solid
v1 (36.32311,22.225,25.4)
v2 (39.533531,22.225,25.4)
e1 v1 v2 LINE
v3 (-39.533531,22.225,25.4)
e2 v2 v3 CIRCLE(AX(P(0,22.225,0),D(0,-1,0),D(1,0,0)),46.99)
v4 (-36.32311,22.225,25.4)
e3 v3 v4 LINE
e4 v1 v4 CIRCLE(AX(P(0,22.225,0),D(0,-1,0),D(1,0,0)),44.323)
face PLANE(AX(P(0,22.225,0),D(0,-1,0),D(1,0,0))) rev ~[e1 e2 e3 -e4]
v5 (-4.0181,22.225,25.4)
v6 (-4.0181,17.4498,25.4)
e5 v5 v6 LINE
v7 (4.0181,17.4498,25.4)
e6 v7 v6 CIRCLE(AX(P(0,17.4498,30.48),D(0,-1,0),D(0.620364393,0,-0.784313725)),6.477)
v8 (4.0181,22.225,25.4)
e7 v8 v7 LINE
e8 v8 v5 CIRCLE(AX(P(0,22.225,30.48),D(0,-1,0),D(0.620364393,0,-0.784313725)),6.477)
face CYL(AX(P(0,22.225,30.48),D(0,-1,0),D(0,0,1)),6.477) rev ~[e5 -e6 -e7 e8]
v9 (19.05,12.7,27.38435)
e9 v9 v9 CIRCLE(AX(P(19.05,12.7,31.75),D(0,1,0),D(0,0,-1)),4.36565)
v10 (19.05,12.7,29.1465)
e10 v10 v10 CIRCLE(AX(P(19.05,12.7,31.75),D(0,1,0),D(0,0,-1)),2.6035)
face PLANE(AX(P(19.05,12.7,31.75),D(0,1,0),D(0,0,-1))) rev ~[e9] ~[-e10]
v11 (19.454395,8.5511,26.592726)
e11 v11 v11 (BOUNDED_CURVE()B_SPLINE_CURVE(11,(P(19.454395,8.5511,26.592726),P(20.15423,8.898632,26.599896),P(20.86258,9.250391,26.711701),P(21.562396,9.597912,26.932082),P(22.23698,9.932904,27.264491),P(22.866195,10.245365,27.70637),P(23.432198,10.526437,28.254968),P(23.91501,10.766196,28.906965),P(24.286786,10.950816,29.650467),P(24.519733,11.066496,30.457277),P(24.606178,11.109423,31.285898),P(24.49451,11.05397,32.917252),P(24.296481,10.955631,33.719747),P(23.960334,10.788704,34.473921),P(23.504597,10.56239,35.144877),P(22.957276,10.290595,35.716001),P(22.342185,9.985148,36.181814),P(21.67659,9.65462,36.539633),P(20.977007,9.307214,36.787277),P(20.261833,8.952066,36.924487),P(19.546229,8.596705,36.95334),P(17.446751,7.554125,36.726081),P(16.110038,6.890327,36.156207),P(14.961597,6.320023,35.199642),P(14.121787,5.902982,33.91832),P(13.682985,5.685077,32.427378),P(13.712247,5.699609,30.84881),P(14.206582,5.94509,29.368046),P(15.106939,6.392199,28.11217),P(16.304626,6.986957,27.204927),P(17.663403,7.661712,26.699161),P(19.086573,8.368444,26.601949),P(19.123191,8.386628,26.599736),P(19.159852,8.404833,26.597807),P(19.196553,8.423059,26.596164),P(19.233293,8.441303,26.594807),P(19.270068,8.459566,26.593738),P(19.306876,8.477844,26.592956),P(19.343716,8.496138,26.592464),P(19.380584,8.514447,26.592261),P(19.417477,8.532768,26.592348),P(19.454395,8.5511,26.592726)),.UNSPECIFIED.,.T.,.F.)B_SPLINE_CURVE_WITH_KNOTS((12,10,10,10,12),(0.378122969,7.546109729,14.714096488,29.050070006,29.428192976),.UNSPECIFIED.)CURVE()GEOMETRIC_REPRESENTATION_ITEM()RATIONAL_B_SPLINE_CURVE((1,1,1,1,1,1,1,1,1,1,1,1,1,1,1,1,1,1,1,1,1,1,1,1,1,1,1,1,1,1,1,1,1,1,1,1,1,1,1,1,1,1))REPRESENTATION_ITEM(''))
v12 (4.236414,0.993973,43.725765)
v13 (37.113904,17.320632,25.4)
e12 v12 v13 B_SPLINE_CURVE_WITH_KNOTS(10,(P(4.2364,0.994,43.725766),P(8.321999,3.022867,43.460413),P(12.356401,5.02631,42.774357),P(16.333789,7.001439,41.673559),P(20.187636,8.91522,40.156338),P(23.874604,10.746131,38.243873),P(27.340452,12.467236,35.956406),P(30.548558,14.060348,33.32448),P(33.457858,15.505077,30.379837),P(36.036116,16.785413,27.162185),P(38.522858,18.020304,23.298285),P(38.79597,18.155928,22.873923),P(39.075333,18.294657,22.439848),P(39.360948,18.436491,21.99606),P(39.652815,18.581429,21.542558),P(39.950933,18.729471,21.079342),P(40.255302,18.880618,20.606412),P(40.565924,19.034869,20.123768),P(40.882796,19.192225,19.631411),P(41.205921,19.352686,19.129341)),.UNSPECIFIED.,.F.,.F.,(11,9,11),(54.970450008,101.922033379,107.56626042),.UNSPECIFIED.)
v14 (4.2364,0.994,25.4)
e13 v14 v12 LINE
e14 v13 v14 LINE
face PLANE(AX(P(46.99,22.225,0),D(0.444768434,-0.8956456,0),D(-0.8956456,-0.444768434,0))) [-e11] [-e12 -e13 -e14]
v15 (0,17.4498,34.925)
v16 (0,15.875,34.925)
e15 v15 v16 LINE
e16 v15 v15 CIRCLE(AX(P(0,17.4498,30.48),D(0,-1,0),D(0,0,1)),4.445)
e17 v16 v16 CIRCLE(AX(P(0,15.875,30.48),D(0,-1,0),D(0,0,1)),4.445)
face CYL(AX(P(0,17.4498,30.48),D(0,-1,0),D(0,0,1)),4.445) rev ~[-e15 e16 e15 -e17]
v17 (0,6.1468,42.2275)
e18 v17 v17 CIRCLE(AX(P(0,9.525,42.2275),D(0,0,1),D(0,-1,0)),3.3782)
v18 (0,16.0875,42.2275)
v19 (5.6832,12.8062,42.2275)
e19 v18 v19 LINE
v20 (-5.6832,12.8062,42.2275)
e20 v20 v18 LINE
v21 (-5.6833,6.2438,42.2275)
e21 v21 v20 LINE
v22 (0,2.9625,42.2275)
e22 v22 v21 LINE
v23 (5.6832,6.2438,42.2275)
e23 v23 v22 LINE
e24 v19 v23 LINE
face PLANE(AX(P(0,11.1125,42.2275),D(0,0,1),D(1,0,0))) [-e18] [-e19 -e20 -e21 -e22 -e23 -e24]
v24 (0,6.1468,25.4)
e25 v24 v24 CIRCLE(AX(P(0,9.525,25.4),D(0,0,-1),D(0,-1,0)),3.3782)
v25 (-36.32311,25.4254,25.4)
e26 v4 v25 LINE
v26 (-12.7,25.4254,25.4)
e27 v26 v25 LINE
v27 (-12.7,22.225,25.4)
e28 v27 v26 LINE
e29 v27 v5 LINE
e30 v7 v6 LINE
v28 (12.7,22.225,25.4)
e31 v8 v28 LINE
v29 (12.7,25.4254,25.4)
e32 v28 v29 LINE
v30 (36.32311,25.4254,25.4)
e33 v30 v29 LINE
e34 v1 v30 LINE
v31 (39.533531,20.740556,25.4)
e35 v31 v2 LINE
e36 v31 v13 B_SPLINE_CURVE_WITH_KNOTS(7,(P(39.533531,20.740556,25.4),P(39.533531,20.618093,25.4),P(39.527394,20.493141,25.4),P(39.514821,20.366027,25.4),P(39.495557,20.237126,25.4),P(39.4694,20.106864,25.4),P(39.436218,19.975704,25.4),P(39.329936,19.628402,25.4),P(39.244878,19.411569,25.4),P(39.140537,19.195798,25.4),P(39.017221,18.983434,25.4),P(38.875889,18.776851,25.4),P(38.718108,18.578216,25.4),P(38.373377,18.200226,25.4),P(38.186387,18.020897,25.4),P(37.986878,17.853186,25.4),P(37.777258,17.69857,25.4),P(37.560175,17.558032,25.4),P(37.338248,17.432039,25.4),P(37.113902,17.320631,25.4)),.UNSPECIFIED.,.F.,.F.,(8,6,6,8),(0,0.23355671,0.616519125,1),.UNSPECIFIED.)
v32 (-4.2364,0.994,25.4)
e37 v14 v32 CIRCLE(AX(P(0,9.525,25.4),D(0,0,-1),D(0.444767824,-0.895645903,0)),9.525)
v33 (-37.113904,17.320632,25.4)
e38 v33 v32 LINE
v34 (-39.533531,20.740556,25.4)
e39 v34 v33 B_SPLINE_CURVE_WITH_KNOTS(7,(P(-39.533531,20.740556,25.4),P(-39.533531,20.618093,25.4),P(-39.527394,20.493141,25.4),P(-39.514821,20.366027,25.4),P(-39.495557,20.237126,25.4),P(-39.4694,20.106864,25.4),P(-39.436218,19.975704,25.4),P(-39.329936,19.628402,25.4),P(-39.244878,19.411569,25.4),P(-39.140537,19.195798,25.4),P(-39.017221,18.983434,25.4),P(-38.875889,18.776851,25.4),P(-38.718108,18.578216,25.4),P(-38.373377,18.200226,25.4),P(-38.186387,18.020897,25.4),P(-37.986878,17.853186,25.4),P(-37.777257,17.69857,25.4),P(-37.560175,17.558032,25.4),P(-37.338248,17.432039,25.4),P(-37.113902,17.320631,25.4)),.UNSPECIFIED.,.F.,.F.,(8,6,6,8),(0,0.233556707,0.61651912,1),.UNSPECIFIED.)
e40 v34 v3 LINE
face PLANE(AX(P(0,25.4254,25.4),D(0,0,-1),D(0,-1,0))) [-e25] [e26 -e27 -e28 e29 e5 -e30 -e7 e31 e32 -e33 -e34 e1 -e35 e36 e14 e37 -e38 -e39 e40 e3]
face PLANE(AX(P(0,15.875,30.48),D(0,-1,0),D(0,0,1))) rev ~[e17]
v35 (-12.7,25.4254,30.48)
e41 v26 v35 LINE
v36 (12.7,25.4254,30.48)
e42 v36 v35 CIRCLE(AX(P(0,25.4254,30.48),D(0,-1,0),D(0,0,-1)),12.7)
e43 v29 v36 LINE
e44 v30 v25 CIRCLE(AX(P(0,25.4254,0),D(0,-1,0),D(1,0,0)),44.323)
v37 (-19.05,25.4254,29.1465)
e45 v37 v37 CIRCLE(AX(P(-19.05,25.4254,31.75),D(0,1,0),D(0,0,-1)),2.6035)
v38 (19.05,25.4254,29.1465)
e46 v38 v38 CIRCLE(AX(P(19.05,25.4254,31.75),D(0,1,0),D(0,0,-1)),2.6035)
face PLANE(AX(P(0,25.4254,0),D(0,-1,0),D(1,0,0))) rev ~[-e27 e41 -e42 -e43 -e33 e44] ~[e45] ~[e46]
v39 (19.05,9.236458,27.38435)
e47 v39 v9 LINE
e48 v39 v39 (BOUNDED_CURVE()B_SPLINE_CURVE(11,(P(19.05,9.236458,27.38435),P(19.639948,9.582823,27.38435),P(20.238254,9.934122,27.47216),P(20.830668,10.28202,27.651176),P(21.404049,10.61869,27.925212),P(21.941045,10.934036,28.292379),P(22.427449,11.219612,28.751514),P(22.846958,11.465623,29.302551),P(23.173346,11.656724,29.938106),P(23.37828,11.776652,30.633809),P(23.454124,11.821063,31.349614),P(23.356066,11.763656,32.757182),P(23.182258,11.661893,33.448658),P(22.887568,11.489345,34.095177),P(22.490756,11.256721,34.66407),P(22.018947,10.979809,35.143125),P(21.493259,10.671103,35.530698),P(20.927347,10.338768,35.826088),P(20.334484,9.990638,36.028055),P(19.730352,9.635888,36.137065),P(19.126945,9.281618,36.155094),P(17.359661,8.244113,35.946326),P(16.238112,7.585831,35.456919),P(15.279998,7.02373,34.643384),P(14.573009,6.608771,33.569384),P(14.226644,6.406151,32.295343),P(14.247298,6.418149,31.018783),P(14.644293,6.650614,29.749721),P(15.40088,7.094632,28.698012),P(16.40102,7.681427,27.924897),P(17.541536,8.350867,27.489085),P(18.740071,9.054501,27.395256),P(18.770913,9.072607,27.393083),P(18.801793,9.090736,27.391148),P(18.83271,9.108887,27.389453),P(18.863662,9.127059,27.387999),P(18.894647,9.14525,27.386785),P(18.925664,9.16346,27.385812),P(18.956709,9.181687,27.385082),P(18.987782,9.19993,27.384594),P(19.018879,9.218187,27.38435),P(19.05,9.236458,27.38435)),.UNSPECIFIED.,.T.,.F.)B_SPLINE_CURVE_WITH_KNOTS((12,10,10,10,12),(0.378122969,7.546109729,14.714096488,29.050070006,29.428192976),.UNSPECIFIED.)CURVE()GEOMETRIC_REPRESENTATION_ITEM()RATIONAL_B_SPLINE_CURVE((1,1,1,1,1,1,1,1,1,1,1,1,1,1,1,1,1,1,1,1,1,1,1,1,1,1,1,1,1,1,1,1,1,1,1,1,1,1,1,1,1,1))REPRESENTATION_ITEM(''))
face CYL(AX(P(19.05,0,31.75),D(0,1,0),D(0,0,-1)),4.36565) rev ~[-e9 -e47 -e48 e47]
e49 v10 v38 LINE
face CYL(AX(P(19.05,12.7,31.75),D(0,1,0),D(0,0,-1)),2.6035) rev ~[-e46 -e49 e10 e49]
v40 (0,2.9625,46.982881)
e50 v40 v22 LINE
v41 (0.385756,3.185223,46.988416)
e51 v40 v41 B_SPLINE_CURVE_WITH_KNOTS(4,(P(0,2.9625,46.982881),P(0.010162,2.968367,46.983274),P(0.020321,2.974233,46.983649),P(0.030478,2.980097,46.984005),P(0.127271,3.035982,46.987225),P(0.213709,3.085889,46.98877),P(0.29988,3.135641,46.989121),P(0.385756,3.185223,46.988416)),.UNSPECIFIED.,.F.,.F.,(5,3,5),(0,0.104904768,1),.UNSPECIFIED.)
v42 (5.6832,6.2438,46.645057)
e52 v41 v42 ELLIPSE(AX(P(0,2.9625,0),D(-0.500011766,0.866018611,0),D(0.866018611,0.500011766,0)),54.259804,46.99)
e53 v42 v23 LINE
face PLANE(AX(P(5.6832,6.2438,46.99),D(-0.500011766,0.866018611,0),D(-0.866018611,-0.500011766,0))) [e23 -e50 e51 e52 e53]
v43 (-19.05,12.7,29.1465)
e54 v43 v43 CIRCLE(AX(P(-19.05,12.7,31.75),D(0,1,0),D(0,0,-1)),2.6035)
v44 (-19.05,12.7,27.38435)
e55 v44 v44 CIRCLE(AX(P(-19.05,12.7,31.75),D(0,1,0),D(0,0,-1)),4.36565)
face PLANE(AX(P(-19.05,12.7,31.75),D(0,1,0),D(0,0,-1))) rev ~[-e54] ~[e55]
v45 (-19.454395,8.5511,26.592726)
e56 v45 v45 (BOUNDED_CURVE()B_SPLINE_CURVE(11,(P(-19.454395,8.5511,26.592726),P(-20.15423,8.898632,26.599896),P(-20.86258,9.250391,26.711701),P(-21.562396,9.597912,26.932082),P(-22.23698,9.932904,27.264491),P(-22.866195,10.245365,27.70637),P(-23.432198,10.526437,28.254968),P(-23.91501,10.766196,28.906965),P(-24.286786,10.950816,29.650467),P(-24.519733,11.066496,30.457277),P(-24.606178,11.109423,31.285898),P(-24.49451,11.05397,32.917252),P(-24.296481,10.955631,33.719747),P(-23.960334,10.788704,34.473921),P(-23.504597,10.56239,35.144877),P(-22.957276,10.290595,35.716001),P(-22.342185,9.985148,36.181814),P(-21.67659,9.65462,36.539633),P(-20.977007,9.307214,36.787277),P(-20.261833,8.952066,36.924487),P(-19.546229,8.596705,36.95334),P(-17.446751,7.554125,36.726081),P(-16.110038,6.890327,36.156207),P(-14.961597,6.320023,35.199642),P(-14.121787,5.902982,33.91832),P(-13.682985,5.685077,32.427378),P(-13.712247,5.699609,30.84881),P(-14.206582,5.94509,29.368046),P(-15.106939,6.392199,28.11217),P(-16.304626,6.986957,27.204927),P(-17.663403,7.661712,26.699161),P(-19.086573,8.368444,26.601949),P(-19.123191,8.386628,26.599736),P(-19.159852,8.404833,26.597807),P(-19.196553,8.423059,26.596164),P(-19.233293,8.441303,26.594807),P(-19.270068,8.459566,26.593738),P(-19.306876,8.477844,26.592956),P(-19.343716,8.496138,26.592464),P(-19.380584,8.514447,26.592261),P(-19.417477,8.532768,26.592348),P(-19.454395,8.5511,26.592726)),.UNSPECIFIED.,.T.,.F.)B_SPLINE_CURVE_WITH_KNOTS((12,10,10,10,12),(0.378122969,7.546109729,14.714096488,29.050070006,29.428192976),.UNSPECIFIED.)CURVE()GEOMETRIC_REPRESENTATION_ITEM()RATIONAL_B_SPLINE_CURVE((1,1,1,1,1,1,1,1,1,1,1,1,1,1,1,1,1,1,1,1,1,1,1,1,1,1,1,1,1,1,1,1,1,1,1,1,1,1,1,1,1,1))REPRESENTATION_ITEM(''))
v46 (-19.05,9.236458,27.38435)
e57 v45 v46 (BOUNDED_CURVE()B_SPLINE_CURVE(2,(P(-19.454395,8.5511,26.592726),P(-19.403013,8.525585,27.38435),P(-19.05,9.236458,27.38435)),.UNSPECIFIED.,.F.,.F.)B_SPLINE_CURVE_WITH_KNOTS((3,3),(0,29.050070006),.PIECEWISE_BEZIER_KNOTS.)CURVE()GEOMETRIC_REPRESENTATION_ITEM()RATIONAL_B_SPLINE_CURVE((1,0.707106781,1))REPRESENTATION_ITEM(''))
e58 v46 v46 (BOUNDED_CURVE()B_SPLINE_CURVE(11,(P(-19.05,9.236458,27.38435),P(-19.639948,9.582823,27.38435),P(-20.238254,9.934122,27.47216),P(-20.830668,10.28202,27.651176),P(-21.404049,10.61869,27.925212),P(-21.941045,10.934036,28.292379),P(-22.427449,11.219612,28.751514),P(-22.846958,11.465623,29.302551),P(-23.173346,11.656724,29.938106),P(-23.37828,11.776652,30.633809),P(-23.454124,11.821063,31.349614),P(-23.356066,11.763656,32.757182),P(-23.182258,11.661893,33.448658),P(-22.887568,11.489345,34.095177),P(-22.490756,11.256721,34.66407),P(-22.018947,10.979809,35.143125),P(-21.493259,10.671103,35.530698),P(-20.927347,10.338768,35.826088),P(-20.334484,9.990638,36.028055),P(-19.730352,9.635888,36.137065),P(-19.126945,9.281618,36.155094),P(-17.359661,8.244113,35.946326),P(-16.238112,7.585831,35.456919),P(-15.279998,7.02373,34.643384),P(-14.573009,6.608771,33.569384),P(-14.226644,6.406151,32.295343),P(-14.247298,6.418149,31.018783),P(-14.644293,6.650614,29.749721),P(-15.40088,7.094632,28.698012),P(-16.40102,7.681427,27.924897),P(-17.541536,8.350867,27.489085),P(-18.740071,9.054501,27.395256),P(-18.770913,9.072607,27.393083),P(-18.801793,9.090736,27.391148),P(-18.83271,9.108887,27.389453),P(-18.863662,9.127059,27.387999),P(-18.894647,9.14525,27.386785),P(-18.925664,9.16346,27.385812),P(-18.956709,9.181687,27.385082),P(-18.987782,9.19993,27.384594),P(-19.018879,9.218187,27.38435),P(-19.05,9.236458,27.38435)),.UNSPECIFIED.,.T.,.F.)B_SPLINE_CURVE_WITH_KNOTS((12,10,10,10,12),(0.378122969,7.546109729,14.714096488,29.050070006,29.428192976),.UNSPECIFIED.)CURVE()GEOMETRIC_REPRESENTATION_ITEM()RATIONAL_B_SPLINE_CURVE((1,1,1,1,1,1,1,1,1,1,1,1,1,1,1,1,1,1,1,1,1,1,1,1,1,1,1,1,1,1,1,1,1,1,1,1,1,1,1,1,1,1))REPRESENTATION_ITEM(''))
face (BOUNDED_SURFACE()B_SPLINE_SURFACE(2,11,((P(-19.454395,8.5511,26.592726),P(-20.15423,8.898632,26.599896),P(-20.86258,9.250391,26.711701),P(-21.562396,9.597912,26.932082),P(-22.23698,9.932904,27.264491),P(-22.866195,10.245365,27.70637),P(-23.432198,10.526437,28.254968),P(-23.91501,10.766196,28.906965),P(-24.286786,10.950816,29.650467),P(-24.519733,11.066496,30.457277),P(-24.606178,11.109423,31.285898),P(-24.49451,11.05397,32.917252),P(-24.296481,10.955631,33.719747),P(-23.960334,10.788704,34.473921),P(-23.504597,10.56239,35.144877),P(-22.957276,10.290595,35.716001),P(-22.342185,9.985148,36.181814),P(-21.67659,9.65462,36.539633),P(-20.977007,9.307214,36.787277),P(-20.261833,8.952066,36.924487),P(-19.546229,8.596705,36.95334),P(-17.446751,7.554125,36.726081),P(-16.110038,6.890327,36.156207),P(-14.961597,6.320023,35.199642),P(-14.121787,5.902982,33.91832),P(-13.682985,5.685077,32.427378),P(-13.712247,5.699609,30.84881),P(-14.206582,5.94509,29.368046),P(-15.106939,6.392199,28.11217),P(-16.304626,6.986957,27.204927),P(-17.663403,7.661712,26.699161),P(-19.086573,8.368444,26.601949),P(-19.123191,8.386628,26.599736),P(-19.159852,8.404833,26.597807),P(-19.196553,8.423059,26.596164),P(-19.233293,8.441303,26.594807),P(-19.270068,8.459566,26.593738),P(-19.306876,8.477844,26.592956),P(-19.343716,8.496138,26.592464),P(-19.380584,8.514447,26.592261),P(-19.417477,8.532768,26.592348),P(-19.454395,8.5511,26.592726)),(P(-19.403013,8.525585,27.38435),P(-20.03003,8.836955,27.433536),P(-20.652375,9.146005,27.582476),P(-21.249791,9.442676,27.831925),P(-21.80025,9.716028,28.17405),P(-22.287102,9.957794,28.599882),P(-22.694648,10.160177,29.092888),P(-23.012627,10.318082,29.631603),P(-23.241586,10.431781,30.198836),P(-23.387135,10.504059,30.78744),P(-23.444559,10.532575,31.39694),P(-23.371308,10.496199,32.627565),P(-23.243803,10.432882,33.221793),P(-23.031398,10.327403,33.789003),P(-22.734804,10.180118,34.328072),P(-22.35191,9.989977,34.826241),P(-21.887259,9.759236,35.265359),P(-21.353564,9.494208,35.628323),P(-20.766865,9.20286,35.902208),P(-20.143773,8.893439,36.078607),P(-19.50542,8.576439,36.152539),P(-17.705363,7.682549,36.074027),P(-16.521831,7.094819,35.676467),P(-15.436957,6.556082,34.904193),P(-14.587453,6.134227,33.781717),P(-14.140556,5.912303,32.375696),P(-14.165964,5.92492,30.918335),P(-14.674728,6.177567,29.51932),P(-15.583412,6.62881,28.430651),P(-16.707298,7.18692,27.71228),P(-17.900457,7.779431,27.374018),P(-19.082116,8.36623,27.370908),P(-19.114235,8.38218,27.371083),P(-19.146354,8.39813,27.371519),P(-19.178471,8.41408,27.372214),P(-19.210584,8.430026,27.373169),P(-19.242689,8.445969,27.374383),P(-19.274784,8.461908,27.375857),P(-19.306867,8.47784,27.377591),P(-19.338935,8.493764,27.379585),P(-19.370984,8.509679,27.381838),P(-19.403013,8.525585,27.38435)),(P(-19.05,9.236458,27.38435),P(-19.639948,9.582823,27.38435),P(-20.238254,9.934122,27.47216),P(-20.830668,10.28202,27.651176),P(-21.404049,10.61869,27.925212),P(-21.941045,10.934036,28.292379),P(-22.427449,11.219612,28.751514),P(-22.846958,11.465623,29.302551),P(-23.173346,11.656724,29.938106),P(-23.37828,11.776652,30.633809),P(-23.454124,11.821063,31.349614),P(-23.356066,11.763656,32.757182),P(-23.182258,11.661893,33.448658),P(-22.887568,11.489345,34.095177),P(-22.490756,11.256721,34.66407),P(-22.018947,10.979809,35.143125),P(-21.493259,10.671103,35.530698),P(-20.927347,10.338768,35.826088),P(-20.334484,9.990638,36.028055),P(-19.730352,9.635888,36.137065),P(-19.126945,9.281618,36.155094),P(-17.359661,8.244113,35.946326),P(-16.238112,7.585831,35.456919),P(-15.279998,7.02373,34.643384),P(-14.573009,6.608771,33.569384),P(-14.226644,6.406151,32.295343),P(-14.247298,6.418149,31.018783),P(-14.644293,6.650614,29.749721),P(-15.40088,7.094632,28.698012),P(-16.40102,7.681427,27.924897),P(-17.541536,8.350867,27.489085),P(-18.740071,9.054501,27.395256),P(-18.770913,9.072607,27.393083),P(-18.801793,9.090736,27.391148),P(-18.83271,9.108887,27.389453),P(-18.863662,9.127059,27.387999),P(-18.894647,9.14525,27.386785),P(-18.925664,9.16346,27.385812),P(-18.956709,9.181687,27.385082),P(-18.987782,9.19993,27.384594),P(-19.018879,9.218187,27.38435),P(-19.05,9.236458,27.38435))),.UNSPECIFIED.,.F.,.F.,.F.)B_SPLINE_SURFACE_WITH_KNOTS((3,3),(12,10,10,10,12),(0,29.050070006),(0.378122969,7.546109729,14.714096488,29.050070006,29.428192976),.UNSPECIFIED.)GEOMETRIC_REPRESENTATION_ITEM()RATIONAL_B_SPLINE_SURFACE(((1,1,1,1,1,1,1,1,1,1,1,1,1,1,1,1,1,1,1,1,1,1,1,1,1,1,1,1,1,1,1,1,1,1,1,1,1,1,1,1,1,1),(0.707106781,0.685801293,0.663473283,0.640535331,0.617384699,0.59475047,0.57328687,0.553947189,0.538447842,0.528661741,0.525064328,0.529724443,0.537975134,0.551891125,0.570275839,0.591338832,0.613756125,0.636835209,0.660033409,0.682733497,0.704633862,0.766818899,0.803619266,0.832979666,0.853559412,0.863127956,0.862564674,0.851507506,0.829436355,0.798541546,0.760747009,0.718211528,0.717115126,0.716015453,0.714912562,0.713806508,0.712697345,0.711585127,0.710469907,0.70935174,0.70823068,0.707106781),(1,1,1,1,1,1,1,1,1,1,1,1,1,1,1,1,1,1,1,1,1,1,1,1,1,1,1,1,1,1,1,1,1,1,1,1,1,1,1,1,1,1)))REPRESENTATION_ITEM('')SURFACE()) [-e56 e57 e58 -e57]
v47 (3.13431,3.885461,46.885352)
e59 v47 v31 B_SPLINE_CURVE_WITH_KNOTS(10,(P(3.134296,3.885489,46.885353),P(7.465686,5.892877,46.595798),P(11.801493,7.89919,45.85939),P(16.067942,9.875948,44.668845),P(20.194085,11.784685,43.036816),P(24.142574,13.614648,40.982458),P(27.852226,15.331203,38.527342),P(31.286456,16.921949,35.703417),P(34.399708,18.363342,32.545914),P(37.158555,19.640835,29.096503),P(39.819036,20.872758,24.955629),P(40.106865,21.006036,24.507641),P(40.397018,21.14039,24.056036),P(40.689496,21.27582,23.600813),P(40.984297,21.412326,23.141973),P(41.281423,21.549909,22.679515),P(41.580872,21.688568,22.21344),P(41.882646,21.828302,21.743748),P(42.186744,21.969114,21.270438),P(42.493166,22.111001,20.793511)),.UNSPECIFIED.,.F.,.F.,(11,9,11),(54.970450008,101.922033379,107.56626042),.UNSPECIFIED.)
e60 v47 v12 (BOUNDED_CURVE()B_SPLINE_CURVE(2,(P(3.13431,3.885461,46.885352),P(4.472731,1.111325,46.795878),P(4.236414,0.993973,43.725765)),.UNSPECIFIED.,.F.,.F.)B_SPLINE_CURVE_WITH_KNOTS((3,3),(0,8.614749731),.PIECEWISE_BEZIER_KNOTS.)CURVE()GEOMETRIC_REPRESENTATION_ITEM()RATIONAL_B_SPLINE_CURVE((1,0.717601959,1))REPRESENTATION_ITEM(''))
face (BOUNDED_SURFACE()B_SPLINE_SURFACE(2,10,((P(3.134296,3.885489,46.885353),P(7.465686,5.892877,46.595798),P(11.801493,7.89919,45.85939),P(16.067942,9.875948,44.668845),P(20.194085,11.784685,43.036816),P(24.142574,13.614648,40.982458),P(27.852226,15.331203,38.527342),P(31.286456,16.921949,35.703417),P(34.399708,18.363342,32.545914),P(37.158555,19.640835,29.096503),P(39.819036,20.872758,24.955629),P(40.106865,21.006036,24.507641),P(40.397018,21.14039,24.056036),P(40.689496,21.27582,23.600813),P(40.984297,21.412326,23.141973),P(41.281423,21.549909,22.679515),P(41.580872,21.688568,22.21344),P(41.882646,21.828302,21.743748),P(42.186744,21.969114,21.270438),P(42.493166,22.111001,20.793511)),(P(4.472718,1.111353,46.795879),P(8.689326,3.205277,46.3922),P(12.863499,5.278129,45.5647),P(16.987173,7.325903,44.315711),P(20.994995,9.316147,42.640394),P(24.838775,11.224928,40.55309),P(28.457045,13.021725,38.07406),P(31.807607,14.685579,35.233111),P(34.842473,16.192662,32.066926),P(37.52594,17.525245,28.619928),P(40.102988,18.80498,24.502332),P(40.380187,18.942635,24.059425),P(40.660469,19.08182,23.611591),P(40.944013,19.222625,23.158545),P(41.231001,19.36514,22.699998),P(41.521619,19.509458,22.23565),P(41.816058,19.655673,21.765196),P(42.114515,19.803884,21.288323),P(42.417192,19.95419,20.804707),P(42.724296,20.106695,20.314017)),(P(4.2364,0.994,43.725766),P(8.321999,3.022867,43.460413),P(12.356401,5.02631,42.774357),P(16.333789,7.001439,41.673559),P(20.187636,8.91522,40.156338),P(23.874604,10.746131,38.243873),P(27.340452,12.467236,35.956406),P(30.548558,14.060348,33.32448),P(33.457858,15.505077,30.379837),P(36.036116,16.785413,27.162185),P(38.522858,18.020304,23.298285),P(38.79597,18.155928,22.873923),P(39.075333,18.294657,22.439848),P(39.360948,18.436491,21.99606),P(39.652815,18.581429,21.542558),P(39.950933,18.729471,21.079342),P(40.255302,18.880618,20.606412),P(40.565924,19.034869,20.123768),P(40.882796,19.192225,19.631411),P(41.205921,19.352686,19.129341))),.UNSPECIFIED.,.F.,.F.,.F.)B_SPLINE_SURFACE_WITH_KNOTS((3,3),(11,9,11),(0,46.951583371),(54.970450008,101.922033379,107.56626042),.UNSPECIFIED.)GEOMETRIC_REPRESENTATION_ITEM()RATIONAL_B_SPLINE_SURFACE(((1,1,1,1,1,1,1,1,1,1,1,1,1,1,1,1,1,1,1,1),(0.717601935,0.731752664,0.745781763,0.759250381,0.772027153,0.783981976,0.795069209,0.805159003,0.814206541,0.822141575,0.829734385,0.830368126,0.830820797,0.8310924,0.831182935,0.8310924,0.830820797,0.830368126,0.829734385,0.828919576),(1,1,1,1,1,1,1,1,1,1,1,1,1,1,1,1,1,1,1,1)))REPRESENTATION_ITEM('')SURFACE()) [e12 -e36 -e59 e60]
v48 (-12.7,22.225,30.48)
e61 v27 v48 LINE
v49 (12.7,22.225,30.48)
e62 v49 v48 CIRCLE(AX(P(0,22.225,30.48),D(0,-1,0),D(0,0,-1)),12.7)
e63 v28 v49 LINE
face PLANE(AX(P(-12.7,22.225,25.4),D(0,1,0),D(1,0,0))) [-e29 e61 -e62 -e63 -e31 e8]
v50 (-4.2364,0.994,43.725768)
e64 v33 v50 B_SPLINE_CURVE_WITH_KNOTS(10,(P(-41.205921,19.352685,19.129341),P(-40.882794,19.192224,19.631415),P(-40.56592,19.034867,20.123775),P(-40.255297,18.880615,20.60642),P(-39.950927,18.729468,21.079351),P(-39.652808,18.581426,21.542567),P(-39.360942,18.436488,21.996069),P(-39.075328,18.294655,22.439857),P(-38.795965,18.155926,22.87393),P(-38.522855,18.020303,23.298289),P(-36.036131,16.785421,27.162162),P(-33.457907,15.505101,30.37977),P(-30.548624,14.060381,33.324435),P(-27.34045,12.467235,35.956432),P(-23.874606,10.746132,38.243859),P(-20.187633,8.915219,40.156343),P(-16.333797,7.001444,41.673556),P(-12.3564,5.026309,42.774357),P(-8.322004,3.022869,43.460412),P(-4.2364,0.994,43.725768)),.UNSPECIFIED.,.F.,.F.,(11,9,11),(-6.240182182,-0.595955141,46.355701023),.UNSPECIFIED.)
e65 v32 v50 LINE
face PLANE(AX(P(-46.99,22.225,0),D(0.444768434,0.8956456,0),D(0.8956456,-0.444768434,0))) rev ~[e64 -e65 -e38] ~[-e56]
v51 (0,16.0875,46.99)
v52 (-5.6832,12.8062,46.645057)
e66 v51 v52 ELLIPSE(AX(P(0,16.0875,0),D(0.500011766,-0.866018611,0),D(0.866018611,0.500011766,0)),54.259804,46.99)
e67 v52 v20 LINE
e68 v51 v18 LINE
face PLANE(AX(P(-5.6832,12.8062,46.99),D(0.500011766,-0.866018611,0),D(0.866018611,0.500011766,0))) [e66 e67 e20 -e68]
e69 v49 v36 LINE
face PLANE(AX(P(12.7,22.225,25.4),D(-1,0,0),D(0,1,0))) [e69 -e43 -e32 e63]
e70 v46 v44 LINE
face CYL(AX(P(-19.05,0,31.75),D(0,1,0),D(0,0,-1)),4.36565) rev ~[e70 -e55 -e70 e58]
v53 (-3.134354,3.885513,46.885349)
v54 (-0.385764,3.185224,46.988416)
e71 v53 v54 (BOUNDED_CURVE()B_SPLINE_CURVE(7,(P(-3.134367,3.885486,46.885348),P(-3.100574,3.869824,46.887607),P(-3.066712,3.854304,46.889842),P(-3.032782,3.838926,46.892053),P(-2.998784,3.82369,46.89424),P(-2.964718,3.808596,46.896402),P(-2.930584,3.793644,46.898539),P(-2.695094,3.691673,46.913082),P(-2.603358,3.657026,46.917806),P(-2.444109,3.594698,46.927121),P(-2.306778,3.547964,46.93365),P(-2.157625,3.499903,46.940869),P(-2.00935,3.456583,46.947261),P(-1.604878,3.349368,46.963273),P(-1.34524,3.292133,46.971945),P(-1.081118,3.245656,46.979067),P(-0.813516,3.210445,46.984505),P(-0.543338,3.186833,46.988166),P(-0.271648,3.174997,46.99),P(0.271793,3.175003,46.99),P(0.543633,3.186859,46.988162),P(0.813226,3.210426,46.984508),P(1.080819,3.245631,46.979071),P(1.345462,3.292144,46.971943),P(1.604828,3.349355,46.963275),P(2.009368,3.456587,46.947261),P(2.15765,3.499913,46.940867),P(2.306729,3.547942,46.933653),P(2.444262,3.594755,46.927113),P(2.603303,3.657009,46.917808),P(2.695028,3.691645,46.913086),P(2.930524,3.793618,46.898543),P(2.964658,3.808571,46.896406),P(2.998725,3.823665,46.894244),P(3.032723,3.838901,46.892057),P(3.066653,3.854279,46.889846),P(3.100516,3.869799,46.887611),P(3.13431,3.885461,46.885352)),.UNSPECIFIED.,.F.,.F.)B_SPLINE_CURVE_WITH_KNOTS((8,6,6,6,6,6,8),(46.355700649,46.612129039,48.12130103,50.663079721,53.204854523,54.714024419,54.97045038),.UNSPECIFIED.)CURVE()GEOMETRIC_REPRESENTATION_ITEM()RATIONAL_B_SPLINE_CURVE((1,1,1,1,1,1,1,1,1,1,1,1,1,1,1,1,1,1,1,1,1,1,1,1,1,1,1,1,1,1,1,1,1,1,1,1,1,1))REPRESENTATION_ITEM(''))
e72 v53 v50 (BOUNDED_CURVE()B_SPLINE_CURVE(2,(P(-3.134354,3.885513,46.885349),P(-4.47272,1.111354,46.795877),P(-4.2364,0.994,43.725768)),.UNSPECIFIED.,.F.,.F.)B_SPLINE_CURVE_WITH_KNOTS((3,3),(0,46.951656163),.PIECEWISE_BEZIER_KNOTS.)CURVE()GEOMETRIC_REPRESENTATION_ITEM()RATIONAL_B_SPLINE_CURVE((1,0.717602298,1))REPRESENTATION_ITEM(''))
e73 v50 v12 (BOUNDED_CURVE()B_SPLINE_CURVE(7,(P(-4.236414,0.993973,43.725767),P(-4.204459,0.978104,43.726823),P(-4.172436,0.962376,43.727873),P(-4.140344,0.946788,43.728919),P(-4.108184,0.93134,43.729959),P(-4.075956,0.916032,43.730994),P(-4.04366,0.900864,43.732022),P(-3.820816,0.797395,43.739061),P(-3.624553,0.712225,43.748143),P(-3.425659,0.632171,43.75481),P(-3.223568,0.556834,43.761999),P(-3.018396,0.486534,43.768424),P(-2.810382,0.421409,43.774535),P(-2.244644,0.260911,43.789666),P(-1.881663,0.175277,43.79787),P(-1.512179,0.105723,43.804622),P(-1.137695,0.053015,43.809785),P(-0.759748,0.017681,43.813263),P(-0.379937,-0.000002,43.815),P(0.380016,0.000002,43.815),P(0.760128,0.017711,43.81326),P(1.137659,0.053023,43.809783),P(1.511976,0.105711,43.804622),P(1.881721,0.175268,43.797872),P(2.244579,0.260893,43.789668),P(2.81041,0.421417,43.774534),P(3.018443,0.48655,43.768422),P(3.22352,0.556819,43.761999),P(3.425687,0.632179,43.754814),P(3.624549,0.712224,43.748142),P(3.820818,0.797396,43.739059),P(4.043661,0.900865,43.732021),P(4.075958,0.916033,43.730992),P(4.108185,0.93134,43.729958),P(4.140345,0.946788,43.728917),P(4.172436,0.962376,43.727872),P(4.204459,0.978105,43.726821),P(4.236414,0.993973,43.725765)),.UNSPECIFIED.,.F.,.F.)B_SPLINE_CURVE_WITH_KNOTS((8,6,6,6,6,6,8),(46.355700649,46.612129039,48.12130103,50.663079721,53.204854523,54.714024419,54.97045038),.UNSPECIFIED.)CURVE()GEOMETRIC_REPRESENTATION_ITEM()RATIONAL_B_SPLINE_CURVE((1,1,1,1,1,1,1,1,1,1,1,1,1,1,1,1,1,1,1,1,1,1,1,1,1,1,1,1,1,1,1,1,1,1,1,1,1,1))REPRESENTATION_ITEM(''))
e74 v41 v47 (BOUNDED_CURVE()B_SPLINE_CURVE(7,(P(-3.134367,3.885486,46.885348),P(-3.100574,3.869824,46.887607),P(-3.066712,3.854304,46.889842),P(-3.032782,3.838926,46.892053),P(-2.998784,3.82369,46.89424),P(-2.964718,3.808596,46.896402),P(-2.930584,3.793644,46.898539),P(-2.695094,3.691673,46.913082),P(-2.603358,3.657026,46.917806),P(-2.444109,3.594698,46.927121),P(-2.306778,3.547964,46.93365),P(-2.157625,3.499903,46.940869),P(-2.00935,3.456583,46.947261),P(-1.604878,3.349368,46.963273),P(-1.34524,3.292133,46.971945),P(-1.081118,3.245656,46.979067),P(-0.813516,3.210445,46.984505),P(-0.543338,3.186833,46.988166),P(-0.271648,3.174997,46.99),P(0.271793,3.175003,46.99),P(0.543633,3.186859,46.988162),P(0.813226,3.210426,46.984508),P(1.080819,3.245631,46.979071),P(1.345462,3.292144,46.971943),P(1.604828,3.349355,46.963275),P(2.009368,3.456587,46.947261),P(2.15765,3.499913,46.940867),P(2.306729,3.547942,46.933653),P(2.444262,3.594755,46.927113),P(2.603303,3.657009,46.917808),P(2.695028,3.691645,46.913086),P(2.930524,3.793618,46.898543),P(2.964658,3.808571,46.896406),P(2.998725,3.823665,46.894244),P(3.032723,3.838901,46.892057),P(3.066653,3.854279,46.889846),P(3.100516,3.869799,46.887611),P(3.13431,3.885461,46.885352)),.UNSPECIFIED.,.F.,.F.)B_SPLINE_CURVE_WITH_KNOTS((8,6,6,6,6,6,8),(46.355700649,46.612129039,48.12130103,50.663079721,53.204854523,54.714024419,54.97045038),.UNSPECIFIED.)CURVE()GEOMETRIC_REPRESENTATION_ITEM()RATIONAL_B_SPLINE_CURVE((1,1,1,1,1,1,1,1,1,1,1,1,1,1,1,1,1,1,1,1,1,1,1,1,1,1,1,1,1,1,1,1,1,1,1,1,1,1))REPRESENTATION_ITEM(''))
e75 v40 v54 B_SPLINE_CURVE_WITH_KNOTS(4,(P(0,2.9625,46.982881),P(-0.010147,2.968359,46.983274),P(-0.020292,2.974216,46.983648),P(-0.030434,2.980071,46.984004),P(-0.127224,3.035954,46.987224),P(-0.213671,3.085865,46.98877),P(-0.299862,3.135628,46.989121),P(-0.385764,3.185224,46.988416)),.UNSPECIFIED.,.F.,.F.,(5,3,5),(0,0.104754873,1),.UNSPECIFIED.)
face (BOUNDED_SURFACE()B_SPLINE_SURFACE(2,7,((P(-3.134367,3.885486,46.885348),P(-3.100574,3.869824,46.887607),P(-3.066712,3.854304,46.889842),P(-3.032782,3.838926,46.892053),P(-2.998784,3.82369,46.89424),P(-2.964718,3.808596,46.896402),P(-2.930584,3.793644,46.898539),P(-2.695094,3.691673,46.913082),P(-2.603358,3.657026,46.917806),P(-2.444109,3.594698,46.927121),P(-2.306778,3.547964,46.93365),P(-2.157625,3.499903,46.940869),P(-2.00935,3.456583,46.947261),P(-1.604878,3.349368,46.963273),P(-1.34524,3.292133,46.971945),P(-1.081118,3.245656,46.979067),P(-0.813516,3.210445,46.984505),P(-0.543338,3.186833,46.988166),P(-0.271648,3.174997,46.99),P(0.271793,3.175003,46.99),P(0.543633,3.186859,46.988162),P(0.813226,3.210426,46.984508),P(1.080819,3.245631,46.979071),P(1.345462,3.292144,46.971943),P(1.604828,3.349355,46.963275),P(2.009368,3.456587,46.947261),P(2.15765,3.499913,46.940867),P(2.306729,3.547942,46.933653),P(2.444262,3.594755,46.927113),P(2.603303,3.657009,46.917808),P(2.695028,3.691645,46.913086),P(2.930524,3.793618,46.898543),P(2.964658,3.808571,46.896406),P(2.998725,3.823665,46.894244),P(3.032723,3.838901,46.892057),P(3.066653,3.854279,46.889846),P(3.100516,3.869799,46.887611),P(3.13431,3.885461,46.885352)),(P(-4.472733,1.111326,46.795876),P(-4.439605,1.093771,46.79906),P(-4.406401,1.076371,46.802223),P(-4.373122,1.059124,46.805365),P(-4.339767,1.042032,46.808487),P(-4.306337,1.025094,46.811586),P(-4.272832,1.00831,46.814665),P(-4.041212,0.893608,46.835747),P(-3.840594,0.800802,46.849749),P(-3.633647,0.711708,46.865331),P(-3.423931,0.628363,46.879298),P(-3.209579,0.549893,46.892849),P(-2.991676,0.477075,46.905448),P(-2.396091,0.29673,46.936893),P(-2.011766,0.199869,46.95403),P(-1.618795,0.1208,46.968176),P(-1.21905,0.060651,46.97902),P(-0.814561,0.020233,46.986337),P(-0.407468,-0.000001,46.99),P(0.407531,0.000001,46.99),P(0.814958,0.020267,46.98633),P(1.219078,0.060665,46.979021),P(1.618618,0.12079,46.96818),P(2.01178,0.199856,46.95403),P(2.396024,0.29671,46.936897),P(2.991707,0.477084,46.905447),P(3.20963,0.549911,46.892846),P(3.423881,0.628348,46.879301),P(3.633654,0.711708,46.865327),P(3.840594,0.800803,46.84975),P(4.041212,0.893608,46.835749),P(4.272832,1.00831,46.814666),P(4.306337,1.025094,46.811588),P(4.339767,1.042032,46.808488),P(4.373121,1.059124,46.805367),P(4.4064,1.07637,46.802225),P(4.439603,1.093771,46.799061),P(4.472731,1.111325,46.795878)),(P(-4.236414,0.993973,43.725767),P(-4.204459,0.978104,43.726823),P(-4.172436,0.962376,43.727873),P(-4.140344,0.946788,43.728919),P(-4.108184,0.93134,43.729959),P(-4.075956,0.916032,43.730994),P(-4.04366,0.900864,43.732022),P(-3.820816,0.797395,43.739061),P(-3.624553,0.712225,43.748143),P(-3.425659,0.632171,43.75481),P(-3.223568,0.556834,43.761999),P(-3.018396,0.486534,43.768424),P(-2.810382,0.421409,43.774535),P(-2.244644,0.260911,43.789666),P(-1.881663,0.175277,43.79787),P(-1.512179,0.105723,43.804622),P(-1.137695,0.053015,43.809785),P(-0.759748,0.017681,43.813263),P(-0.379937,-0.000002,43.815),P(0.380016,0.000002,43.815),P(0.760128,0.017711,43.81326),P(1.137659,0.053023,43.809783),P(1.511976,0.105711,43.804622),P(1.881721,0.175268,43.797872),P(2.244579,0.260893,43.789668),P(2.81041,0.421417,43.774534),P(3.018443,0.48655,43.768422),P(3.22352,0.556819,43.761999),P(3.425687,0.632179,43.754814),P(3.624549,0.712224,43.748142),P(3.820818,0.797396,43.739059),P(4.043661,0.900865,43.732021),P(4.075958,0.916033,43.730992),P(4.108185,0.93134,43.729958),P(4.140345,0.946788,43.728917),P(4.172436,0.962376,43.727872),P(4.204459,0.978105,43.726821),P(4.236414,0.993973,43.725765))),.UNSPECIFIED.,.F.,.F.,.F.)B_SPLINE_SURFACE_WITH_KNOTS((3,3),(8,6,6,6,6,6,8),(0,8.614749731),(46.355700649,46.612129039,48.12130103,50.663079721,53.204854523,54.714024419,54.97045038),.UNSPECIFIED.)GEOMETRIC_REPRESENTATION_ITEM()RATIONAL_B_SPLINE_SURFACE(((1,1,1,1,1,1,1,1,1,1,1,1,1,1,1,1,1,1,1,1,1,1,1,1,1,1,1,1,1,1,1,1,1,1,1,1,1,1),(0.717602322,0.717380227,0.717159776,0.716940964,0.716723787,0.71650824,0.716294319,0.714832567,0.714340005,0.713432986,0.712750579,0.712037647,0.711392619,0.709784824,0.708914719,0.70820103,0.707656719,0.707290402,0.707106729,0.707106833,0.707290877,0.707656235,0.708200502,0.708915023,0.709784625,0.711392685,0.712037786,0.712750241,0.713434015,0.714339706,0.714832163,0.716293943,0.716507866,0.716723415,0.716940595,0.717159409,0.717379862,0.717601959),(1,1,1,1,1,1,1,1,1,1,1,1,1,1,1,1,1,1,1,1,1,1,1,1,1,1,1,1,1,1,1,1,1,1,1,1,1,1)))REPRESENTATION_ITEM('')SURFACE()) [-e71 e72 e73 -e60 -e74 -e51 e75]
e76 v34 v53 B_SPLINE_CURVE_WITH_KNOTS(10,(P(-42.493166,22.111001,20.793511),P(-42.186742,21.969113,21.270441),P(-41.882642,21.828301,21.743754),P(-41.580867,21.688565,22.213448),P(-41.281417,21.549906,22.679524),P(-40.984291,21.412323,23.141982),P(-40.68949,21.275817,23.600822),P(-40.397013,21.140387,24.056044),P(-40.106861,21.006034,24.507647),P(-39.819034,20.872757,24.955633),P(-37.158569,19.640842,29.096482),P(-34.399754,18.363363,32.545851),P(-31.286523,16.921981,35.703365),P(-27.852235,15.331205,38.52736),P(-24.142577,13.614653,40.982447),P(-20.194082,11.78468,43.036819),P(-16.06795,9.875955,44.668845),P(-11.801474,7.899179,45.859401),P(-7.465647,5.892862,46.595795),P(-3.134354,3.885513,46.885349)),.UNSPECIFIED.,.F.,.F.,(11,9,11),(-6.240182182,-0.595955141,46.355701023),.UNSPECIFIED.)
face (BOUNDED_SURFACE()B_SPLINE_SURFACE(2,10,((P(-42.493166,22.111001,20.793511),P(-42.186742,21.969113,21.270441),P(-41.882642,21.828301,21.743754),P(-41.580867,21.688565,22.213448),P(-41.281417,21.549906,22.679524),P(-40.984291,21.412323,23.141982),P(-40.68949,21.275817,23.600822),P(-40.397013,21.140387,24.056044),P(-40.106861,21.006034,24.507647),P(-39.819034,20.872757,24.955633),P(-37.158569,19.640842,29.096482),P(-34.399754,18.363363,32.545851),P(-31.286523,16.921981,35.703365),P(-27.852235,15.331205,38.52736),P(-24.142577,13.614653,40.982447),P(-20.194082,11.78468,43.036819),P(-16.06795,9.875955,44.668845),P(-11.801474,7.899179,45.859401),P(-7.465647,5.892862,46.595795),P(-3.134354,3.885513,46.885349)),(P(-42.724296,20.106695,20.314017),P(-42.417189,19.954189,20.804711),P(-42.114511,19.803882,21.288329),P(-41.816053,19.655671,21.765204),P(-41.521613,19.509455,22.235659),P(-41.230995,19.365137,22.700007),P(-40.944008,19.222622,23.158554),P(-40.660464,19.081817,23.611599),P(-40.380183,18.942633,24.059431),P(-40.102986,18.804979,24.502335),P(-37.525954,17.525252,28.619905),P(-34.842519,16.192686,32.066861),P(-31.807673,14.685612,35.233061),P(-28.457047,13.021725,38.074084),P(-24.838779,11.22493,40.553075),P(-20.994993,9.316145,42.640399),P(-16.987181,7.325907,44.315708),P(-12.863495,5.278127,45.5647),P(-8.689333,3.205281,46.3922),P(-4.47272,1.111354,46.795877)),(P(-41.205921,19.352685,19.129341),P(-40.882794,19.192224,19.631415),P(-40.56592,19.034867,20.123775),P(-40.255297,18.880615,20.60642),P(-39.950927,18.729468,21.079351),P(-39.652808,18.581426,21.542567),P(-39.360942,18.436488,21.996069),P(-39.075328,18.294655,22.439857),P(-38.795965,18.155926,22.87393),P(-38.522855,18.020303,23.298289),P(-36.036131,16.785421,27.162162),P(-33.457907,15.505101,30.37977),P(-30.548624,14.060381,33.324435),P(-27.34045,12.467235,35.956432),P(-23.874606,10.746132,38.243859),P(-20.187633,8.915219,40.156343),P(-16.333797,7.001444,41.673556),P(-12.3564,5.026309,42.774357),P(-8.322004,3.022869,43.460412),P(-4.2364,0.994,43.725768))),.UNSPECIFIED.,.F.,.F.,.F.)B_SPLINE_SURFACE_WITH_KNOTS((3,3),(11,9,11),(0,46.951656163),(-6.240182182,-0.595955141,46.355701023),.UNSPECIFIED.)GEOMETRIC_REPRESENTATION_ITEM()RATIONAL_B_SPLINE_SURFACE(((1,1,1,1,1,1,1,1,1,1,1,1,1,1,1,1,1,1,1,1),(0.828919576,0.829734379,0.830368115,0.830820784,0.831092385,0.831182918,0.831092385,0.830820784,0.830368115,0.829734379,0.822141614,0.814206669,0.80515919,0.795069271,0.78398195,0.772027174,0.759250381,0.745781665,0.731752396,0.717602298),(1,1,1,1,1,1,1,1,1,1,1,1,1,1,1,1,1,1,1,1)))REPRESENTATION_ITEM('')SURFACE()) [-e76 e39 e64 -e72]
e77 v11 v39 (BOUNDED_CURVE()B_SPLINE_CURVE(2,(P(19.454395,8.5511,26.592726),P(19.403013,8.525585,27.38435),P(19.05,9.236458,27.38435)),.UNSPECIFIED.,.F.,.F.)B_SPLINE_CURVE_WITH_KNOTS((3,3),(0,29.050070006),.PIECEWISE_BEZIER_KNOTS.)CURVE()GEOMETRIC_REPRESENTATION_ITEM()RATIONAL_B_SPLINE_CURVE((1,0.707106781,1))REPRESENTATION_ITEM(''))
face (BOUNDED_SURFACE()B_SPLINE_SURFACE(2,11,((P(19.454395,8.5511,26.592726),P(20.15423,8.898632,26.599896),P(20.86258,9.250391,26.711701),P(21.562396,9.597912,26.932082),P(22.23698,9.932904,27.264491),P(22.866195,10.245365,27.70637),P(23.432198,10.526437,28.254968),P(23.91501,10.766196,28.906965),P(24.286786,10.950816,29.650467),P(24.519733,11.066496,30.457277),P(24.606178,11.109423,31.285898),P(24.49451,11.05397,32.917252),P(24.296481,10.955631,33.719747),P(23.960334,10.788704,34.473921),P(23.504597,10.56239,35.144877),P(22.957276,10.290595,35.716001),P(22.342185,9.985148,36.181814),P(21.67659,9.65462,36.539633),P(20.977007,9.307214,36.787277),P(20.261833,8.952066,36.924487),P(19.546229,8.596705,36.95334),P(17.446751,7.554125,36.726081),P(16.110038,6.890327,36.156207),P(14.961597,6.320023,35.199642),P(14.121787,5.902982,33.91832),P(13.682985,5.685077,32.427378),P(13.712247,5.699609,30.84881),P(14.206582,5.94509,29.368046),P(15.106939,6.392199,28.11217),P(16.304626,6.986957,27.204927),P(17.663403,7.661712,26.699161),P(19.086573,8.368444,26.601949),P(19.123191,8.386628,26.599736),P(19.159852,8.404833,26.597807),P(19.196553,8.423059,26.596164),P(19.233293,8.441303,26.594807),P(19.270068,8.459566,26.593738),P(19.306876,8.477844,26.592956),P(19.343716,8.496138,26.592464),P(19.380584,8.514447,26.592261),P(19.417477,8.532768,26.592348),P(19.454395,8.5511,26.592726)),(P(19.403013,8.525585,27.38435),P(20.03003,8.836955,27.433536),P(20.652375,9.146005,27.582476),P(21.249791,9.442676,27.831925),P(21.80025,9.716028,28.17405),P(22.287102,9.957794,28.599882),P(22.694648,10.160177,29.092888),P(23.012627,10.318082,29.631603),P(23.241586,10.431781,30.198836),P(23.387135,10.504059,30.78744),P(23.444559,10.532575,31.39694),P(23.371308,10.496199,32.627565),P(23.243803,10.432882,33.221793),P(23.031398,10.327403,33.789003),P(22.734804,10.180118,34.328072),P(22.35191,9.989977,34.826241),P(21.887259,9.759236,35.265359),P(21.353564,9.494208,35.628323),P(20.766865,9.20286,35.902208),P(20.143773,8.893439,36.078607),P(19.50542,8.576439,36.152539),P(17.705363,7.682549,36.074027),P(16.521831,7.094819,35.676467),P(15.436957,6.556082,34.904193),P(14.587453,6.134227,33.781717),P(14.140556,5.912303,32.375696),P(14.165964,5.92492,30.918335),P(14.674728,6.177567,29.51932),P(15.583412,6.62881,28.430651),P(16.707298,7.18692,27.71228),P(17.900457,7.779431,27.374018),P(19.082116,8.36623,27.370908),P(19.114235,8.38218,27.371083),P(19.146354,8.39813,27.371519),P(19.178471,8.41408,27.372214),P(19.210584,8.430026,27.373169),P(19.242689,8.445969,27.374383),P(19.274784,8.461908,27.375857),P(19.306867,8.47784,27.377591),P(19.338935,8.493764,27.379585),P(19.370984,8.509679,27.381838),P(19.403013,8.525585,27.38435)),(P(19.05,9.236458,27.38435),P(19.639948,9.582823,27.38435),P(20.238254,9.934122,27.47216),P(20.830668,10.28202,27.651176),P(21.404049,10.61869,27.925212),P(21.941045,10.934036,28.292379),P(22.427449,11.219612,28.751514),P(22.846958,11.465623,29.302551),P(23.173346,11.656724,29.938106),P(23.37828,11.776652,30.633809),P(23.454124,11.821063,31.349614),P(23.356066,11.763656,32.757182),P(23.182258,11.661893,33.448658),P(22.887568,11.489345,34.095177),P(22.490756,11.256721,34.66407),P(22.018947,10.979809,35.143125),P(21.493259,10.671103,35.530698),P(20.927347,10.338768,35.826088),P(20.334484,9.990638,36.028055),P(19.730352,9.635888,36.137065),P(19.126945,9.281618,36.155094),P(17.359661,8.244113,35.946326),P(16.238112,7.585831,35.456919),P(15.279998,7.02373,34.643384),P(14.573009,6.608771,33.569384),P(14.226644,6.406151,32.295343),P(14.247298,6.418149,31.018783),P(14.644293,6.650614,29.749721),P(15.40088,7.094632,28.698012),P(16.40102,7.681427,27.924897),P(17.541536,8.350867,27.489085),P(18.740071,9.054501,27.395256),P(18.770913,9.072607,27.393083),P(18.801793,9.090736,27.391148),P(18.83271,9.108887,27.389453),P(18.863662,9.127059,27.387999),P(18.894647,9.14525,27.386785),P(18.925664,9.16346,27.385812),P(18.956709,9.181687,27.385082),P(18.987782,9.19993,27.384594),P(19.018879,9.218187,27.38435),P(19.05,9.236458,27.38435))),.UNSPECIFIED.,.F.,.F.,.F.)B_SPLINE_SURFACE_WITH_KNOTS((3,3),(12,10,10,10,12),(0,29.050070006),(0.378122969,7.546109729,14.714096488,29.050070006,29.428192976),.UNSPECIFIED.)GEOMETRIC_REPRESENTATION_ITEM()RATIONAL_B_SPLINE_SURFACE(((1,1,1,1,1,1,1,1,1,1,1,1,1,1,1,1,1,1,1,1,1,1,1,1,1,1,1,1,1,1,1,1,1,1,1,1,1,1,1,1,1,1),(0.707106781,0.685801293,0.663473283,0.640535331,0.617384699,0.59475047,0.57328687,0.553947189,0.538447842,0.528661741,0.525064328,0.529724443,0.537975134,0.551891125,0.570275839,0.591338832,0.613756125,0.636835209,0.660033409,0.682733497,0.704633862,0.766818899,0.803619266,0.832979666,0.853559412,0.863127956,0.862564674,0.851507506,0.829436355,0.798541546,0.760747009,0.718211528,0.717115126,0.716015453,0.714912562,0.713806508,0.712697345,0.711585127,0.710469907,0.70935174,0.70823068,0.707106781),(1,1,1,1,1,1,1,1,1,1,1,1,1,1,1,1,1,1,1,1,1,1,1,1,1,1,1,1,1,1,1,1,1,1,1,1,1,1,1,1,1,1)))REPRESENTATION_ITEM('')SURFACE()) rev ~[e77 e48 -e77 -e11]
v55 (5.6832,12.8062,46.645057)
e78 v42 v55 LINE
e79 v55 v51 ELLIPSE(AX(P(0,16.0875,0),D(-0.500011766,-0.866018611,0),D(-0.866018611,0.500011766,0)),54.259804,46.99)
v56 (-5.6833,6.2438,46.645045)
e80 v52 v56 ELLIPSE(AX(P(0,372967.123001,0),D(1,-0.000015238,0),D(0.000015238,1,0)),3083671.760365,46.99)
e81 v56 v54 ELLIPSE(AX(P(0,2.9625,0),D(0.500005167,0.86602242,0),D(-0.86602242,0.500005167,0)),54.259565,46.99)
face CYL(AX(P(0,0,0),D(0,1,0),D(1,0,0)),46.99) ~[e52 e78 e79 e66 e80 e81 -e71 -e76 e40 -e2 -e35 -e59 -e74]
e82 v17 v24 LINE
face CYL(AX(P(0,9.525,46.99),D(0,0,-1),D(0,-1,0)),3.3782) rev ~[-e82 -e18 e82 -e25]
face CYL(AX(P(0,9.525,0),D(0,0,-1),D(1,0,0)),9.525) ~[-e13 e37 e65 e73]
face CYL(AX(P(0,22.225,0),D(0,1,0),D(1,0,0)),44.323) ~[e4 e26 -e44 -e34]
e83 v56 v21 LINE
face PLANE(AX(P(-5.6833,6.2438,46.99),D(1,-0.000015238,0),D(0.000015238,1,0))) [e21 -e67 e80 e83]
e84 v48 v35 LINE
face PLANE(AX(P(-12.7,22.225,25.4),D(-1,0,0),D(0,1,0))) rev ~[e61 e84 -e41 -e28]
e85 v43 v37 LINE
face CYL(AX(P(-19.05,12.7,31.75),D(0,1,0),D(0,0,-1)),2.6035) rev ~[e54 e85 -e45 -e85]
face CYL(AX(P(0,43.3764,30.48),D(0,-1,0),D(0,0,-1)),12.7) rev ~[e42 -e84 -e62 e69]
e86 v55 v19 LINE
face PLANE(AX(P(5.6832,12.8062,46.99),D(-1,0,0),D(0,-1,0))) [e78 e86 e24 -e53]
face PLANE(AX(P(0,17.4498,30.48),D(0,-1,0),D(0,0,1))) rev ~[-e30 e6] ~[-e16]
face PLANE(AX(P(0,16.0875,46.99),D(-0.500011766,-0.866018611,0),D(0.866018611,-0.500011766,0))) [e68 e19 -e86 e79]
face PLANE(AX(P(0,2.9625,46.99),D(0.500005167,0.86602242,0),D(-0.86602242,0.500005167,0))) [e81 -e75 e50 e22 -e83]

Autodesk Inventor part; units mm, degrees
ref_plane "YZ Plane" through (0, 0, 0) normal (1, 0, 0) x (0, 1, 0)
sketch "Sketch1" plane through (0, 0, 0) normal (0, 0, 1) x (1, 0, 0)
  line L0 (0, 0) -> (46.99, 0)
  line L1 (46.99, 0) -> (46.99, 22.225)
  line L2 (46.99, 22.225) -> (0, 22.225)
  line L3 (0, 22.225) -> (0, 0)
  line L4 (0, 22.225) -> (44.323, 22.225)
  line L5 (44.323, 22.225) -> (44.323, 25.4254)
  line L6 (44.323, 25.4254) -> (0, 25.4254)
  line L7 (0, 25.4254) -> (0, 22.225)
  circle A0 centre (0, 9.525) radius 9.525
  circle A1 centre (0, 9.525) radius 3.175
  line L8 (46.99, 22.225) -> (4.2364, 0.994)
  line L9 (0, 0) -> (-46.99, 0)
  line L10 (-46.99, 0) -> (-46.99, 22.225)
  line L11 (-46.99, 22.225) -> (0, 22.225)
  line L12 (0, 22.225) -> (0, 0)
  line L13 (-46.99, 22.225) -> (-4.2364, 0.994)
  dimension "d2" = 44.323
  dimension "d3" = 3.2004
  dimension "d5" = 6.35
  dimension "d7" = 6.35
  dimension "d67" = 12.7
  dimension "d119" = 46.99
revolve "Revolution1" add sketch "Sketch1" angle 180 about axis through (0, 22.225, 0) along (0, -1, 0) picked at (0.942, 16.8272) picked at (0.9535, 9.9842) contours A0 L8 L1 L0 | L3 A1 A0 | L3 A1 | A0 L3 L2 L8 | L2 L7 L6 L5
sketch "Sketch2" plane through (0, 0, 0) normal (1, 0, 0) x (0, 1, 0)
  line L0 (0, 0) -> (22.225, 0) projected
  line L1 (25.4254, 44.323) -> (25.4254, 0) projected
  line L2 (0, 0) -> (25.4254, 0)
  line L3 (25.4254, 0) -> (25.4254, 25.4)
  line L4 (25.4254, 25.4) -> (0, 25.4)
  line L5 (0, 25.4) -> (0, 0)
  dimension "d10" = 25.4
extrude "Extrusion1" cut sketch "Sketch2" along normal through all both and the other way through all
extrude "Extrusion2" cut sketch "Sketch1" along normal through all contours A0 L8 L1 L0 | L9 L10 L13 A0
ref_plane "Work Plane1" through (0, 0, 0) normal (0, 1, 0) x (-1, 0, 0)
sketch "Sketch9" plane through (0, 0, 0) normal (0, 1, 0) x (-1, 0, 0)
  line L0 (-19.05, 31.75) -> (0, 0) construction
  line L1 (0, 0) -> (19.05, 31.75) construction
  dimension "d46" = 31.75
  dimension "d47" = 38.1
hole "Hole1" at (19.05, 0, 31.75) at (-19.05, 0, 31.75) direction (0, 1, 0) diameter 5.207 end through all counterbore diameter 8.7313 counterbore depth 12.7
ref_plane "Work Plane2" through (0, 11.1125, 46.99) normal (0, 0, 1) x (1, 0, 0)
sketch "Sketch10" plane through (0, 11.1125, 46.99) normal (0, 0, 1) x (1, 0, 0)
  arc A0 (-4.2364, -10.1185) -> (4.2364, -10.1185) centre (0, -1.5875) ccw projected
  point P0 (0, -11.1125)
hole "Hole2" at (0, 9.525, 46.99) direction (0, 0, -1) diameter 6.7564 end through all
fillet "Fillet1" radius 0.7937 4 edges at (19.05, 8.3503, 36.1156) (-19.05, 8.3503, 36.1156) (-3.3781, 9.4995, 46.8684) (3.3781, 9.4966, 46.8684)
fillet "Fillet2" radius 3.175 4 edges at (2.2299, 0.2647, 46.9371) (-2.2284, 0.2643, 46.9371) (-24.3604, 10.9873, 40.1825) (24.3604, 10.9873, 40.1825)
sketch "Sketch12" plane through (0, 0, 0) normal (1, 0, 0) x (0, 1, 0)
  line L0 (12.9032, 25.4) -> (6.1468, 25.4) projected
  line L1 (22.225, 17.78) -> (22.225, 30.48)
  line L2 (43.3764, 30.48) -> (22.225, 30.48)
  line L3 (43.3764, 30.48) -> (43.3764, 17.78)
  line L4 (43.3764, 17.78) -> (22.225, 17.78)
  point P0 (0, 0)
  point P1 (9.525, 25.4)
  dimension "d108" = 12.7
  dimension "d111" = 30.48
  dimension "d120" = 12.7
revolve "Revolution2" cut sketch "Sketch12" angle 360 about axis through (0, 43.3764, 30.48) along (0, -1, 0)
sketch "Sketch13" plane through (0, 11.1125, 46.99) normal (0, 0, 1) x (1, 0, 0)
  circle A0 centre (0, -1.5875) radius 3.3782 projected
  line L0 (0, 4.975) -> (5.6832, 1.6937)
  line L1 (5.6832, 1.6937) -> (5.6832, -4.8687)
  line L2 (5.6832, -4.8687) -> (0, -8.15)
  line L3 (0, -8.15) -> (-5.6833, -4.8687)
  line L4 (-5.6833, -4.8687) -> (-5.6832, 1.6937)
  line L5 (-5.6832, 1.6937) -> (0, 4.975)
  point P0 (0, -11.1125)
  dimension "d91" = 11.3665
extrude "Extrusion8" cut sketch "Sketch13" against normal blind 4.7625
sketch "Sketch14" plane through (39.5335, 22.225, 25.4) normal (0, 0, -1) x (-1, 0, 0)
  line L0 (26.8335, 0) -> (26.8335, 3.2004) projected
  line L1 (52.2335, 0) -> (52.2335, 3.2004) projected
  line L2 (52.2335, 0) -> (26.8335, 0) projected
  line L3 (26.8335, 3.2004) -> (52.2335, 3.2004) projected
  point P0 (39.5335, -22.225)
  point P1 (51.1733, 0)
  point P2 (27.8938, 0)
  point P3 (27.8938, 3.2004)
  point P4 (51.1733, 3.2004)
extrude "Extrusion9" cut sketch "Sketch14" against normal blind 5.08
sketch "Sketch15" plane through (0, 22.225, 30.48) normal (0, 1, 0) x (1, 0, 0)
  circle A0 centre (0, 0) radius 6.477
  arc A1 (-12.7, 0) -> (12.7, 0) centre (0, 0) ccw projected
  point P0 (0, 30.48)
  dimension "d98" = 12.954
hole "Hole5" at (0, 22.225, 30.48) direction (0, -1, 0) diameter 8.89 depth 6.35 counterbore diameter 12.954 counterbore depth 4.7752
properties part number "WheelBracketHead" material "ABS Plastic"
